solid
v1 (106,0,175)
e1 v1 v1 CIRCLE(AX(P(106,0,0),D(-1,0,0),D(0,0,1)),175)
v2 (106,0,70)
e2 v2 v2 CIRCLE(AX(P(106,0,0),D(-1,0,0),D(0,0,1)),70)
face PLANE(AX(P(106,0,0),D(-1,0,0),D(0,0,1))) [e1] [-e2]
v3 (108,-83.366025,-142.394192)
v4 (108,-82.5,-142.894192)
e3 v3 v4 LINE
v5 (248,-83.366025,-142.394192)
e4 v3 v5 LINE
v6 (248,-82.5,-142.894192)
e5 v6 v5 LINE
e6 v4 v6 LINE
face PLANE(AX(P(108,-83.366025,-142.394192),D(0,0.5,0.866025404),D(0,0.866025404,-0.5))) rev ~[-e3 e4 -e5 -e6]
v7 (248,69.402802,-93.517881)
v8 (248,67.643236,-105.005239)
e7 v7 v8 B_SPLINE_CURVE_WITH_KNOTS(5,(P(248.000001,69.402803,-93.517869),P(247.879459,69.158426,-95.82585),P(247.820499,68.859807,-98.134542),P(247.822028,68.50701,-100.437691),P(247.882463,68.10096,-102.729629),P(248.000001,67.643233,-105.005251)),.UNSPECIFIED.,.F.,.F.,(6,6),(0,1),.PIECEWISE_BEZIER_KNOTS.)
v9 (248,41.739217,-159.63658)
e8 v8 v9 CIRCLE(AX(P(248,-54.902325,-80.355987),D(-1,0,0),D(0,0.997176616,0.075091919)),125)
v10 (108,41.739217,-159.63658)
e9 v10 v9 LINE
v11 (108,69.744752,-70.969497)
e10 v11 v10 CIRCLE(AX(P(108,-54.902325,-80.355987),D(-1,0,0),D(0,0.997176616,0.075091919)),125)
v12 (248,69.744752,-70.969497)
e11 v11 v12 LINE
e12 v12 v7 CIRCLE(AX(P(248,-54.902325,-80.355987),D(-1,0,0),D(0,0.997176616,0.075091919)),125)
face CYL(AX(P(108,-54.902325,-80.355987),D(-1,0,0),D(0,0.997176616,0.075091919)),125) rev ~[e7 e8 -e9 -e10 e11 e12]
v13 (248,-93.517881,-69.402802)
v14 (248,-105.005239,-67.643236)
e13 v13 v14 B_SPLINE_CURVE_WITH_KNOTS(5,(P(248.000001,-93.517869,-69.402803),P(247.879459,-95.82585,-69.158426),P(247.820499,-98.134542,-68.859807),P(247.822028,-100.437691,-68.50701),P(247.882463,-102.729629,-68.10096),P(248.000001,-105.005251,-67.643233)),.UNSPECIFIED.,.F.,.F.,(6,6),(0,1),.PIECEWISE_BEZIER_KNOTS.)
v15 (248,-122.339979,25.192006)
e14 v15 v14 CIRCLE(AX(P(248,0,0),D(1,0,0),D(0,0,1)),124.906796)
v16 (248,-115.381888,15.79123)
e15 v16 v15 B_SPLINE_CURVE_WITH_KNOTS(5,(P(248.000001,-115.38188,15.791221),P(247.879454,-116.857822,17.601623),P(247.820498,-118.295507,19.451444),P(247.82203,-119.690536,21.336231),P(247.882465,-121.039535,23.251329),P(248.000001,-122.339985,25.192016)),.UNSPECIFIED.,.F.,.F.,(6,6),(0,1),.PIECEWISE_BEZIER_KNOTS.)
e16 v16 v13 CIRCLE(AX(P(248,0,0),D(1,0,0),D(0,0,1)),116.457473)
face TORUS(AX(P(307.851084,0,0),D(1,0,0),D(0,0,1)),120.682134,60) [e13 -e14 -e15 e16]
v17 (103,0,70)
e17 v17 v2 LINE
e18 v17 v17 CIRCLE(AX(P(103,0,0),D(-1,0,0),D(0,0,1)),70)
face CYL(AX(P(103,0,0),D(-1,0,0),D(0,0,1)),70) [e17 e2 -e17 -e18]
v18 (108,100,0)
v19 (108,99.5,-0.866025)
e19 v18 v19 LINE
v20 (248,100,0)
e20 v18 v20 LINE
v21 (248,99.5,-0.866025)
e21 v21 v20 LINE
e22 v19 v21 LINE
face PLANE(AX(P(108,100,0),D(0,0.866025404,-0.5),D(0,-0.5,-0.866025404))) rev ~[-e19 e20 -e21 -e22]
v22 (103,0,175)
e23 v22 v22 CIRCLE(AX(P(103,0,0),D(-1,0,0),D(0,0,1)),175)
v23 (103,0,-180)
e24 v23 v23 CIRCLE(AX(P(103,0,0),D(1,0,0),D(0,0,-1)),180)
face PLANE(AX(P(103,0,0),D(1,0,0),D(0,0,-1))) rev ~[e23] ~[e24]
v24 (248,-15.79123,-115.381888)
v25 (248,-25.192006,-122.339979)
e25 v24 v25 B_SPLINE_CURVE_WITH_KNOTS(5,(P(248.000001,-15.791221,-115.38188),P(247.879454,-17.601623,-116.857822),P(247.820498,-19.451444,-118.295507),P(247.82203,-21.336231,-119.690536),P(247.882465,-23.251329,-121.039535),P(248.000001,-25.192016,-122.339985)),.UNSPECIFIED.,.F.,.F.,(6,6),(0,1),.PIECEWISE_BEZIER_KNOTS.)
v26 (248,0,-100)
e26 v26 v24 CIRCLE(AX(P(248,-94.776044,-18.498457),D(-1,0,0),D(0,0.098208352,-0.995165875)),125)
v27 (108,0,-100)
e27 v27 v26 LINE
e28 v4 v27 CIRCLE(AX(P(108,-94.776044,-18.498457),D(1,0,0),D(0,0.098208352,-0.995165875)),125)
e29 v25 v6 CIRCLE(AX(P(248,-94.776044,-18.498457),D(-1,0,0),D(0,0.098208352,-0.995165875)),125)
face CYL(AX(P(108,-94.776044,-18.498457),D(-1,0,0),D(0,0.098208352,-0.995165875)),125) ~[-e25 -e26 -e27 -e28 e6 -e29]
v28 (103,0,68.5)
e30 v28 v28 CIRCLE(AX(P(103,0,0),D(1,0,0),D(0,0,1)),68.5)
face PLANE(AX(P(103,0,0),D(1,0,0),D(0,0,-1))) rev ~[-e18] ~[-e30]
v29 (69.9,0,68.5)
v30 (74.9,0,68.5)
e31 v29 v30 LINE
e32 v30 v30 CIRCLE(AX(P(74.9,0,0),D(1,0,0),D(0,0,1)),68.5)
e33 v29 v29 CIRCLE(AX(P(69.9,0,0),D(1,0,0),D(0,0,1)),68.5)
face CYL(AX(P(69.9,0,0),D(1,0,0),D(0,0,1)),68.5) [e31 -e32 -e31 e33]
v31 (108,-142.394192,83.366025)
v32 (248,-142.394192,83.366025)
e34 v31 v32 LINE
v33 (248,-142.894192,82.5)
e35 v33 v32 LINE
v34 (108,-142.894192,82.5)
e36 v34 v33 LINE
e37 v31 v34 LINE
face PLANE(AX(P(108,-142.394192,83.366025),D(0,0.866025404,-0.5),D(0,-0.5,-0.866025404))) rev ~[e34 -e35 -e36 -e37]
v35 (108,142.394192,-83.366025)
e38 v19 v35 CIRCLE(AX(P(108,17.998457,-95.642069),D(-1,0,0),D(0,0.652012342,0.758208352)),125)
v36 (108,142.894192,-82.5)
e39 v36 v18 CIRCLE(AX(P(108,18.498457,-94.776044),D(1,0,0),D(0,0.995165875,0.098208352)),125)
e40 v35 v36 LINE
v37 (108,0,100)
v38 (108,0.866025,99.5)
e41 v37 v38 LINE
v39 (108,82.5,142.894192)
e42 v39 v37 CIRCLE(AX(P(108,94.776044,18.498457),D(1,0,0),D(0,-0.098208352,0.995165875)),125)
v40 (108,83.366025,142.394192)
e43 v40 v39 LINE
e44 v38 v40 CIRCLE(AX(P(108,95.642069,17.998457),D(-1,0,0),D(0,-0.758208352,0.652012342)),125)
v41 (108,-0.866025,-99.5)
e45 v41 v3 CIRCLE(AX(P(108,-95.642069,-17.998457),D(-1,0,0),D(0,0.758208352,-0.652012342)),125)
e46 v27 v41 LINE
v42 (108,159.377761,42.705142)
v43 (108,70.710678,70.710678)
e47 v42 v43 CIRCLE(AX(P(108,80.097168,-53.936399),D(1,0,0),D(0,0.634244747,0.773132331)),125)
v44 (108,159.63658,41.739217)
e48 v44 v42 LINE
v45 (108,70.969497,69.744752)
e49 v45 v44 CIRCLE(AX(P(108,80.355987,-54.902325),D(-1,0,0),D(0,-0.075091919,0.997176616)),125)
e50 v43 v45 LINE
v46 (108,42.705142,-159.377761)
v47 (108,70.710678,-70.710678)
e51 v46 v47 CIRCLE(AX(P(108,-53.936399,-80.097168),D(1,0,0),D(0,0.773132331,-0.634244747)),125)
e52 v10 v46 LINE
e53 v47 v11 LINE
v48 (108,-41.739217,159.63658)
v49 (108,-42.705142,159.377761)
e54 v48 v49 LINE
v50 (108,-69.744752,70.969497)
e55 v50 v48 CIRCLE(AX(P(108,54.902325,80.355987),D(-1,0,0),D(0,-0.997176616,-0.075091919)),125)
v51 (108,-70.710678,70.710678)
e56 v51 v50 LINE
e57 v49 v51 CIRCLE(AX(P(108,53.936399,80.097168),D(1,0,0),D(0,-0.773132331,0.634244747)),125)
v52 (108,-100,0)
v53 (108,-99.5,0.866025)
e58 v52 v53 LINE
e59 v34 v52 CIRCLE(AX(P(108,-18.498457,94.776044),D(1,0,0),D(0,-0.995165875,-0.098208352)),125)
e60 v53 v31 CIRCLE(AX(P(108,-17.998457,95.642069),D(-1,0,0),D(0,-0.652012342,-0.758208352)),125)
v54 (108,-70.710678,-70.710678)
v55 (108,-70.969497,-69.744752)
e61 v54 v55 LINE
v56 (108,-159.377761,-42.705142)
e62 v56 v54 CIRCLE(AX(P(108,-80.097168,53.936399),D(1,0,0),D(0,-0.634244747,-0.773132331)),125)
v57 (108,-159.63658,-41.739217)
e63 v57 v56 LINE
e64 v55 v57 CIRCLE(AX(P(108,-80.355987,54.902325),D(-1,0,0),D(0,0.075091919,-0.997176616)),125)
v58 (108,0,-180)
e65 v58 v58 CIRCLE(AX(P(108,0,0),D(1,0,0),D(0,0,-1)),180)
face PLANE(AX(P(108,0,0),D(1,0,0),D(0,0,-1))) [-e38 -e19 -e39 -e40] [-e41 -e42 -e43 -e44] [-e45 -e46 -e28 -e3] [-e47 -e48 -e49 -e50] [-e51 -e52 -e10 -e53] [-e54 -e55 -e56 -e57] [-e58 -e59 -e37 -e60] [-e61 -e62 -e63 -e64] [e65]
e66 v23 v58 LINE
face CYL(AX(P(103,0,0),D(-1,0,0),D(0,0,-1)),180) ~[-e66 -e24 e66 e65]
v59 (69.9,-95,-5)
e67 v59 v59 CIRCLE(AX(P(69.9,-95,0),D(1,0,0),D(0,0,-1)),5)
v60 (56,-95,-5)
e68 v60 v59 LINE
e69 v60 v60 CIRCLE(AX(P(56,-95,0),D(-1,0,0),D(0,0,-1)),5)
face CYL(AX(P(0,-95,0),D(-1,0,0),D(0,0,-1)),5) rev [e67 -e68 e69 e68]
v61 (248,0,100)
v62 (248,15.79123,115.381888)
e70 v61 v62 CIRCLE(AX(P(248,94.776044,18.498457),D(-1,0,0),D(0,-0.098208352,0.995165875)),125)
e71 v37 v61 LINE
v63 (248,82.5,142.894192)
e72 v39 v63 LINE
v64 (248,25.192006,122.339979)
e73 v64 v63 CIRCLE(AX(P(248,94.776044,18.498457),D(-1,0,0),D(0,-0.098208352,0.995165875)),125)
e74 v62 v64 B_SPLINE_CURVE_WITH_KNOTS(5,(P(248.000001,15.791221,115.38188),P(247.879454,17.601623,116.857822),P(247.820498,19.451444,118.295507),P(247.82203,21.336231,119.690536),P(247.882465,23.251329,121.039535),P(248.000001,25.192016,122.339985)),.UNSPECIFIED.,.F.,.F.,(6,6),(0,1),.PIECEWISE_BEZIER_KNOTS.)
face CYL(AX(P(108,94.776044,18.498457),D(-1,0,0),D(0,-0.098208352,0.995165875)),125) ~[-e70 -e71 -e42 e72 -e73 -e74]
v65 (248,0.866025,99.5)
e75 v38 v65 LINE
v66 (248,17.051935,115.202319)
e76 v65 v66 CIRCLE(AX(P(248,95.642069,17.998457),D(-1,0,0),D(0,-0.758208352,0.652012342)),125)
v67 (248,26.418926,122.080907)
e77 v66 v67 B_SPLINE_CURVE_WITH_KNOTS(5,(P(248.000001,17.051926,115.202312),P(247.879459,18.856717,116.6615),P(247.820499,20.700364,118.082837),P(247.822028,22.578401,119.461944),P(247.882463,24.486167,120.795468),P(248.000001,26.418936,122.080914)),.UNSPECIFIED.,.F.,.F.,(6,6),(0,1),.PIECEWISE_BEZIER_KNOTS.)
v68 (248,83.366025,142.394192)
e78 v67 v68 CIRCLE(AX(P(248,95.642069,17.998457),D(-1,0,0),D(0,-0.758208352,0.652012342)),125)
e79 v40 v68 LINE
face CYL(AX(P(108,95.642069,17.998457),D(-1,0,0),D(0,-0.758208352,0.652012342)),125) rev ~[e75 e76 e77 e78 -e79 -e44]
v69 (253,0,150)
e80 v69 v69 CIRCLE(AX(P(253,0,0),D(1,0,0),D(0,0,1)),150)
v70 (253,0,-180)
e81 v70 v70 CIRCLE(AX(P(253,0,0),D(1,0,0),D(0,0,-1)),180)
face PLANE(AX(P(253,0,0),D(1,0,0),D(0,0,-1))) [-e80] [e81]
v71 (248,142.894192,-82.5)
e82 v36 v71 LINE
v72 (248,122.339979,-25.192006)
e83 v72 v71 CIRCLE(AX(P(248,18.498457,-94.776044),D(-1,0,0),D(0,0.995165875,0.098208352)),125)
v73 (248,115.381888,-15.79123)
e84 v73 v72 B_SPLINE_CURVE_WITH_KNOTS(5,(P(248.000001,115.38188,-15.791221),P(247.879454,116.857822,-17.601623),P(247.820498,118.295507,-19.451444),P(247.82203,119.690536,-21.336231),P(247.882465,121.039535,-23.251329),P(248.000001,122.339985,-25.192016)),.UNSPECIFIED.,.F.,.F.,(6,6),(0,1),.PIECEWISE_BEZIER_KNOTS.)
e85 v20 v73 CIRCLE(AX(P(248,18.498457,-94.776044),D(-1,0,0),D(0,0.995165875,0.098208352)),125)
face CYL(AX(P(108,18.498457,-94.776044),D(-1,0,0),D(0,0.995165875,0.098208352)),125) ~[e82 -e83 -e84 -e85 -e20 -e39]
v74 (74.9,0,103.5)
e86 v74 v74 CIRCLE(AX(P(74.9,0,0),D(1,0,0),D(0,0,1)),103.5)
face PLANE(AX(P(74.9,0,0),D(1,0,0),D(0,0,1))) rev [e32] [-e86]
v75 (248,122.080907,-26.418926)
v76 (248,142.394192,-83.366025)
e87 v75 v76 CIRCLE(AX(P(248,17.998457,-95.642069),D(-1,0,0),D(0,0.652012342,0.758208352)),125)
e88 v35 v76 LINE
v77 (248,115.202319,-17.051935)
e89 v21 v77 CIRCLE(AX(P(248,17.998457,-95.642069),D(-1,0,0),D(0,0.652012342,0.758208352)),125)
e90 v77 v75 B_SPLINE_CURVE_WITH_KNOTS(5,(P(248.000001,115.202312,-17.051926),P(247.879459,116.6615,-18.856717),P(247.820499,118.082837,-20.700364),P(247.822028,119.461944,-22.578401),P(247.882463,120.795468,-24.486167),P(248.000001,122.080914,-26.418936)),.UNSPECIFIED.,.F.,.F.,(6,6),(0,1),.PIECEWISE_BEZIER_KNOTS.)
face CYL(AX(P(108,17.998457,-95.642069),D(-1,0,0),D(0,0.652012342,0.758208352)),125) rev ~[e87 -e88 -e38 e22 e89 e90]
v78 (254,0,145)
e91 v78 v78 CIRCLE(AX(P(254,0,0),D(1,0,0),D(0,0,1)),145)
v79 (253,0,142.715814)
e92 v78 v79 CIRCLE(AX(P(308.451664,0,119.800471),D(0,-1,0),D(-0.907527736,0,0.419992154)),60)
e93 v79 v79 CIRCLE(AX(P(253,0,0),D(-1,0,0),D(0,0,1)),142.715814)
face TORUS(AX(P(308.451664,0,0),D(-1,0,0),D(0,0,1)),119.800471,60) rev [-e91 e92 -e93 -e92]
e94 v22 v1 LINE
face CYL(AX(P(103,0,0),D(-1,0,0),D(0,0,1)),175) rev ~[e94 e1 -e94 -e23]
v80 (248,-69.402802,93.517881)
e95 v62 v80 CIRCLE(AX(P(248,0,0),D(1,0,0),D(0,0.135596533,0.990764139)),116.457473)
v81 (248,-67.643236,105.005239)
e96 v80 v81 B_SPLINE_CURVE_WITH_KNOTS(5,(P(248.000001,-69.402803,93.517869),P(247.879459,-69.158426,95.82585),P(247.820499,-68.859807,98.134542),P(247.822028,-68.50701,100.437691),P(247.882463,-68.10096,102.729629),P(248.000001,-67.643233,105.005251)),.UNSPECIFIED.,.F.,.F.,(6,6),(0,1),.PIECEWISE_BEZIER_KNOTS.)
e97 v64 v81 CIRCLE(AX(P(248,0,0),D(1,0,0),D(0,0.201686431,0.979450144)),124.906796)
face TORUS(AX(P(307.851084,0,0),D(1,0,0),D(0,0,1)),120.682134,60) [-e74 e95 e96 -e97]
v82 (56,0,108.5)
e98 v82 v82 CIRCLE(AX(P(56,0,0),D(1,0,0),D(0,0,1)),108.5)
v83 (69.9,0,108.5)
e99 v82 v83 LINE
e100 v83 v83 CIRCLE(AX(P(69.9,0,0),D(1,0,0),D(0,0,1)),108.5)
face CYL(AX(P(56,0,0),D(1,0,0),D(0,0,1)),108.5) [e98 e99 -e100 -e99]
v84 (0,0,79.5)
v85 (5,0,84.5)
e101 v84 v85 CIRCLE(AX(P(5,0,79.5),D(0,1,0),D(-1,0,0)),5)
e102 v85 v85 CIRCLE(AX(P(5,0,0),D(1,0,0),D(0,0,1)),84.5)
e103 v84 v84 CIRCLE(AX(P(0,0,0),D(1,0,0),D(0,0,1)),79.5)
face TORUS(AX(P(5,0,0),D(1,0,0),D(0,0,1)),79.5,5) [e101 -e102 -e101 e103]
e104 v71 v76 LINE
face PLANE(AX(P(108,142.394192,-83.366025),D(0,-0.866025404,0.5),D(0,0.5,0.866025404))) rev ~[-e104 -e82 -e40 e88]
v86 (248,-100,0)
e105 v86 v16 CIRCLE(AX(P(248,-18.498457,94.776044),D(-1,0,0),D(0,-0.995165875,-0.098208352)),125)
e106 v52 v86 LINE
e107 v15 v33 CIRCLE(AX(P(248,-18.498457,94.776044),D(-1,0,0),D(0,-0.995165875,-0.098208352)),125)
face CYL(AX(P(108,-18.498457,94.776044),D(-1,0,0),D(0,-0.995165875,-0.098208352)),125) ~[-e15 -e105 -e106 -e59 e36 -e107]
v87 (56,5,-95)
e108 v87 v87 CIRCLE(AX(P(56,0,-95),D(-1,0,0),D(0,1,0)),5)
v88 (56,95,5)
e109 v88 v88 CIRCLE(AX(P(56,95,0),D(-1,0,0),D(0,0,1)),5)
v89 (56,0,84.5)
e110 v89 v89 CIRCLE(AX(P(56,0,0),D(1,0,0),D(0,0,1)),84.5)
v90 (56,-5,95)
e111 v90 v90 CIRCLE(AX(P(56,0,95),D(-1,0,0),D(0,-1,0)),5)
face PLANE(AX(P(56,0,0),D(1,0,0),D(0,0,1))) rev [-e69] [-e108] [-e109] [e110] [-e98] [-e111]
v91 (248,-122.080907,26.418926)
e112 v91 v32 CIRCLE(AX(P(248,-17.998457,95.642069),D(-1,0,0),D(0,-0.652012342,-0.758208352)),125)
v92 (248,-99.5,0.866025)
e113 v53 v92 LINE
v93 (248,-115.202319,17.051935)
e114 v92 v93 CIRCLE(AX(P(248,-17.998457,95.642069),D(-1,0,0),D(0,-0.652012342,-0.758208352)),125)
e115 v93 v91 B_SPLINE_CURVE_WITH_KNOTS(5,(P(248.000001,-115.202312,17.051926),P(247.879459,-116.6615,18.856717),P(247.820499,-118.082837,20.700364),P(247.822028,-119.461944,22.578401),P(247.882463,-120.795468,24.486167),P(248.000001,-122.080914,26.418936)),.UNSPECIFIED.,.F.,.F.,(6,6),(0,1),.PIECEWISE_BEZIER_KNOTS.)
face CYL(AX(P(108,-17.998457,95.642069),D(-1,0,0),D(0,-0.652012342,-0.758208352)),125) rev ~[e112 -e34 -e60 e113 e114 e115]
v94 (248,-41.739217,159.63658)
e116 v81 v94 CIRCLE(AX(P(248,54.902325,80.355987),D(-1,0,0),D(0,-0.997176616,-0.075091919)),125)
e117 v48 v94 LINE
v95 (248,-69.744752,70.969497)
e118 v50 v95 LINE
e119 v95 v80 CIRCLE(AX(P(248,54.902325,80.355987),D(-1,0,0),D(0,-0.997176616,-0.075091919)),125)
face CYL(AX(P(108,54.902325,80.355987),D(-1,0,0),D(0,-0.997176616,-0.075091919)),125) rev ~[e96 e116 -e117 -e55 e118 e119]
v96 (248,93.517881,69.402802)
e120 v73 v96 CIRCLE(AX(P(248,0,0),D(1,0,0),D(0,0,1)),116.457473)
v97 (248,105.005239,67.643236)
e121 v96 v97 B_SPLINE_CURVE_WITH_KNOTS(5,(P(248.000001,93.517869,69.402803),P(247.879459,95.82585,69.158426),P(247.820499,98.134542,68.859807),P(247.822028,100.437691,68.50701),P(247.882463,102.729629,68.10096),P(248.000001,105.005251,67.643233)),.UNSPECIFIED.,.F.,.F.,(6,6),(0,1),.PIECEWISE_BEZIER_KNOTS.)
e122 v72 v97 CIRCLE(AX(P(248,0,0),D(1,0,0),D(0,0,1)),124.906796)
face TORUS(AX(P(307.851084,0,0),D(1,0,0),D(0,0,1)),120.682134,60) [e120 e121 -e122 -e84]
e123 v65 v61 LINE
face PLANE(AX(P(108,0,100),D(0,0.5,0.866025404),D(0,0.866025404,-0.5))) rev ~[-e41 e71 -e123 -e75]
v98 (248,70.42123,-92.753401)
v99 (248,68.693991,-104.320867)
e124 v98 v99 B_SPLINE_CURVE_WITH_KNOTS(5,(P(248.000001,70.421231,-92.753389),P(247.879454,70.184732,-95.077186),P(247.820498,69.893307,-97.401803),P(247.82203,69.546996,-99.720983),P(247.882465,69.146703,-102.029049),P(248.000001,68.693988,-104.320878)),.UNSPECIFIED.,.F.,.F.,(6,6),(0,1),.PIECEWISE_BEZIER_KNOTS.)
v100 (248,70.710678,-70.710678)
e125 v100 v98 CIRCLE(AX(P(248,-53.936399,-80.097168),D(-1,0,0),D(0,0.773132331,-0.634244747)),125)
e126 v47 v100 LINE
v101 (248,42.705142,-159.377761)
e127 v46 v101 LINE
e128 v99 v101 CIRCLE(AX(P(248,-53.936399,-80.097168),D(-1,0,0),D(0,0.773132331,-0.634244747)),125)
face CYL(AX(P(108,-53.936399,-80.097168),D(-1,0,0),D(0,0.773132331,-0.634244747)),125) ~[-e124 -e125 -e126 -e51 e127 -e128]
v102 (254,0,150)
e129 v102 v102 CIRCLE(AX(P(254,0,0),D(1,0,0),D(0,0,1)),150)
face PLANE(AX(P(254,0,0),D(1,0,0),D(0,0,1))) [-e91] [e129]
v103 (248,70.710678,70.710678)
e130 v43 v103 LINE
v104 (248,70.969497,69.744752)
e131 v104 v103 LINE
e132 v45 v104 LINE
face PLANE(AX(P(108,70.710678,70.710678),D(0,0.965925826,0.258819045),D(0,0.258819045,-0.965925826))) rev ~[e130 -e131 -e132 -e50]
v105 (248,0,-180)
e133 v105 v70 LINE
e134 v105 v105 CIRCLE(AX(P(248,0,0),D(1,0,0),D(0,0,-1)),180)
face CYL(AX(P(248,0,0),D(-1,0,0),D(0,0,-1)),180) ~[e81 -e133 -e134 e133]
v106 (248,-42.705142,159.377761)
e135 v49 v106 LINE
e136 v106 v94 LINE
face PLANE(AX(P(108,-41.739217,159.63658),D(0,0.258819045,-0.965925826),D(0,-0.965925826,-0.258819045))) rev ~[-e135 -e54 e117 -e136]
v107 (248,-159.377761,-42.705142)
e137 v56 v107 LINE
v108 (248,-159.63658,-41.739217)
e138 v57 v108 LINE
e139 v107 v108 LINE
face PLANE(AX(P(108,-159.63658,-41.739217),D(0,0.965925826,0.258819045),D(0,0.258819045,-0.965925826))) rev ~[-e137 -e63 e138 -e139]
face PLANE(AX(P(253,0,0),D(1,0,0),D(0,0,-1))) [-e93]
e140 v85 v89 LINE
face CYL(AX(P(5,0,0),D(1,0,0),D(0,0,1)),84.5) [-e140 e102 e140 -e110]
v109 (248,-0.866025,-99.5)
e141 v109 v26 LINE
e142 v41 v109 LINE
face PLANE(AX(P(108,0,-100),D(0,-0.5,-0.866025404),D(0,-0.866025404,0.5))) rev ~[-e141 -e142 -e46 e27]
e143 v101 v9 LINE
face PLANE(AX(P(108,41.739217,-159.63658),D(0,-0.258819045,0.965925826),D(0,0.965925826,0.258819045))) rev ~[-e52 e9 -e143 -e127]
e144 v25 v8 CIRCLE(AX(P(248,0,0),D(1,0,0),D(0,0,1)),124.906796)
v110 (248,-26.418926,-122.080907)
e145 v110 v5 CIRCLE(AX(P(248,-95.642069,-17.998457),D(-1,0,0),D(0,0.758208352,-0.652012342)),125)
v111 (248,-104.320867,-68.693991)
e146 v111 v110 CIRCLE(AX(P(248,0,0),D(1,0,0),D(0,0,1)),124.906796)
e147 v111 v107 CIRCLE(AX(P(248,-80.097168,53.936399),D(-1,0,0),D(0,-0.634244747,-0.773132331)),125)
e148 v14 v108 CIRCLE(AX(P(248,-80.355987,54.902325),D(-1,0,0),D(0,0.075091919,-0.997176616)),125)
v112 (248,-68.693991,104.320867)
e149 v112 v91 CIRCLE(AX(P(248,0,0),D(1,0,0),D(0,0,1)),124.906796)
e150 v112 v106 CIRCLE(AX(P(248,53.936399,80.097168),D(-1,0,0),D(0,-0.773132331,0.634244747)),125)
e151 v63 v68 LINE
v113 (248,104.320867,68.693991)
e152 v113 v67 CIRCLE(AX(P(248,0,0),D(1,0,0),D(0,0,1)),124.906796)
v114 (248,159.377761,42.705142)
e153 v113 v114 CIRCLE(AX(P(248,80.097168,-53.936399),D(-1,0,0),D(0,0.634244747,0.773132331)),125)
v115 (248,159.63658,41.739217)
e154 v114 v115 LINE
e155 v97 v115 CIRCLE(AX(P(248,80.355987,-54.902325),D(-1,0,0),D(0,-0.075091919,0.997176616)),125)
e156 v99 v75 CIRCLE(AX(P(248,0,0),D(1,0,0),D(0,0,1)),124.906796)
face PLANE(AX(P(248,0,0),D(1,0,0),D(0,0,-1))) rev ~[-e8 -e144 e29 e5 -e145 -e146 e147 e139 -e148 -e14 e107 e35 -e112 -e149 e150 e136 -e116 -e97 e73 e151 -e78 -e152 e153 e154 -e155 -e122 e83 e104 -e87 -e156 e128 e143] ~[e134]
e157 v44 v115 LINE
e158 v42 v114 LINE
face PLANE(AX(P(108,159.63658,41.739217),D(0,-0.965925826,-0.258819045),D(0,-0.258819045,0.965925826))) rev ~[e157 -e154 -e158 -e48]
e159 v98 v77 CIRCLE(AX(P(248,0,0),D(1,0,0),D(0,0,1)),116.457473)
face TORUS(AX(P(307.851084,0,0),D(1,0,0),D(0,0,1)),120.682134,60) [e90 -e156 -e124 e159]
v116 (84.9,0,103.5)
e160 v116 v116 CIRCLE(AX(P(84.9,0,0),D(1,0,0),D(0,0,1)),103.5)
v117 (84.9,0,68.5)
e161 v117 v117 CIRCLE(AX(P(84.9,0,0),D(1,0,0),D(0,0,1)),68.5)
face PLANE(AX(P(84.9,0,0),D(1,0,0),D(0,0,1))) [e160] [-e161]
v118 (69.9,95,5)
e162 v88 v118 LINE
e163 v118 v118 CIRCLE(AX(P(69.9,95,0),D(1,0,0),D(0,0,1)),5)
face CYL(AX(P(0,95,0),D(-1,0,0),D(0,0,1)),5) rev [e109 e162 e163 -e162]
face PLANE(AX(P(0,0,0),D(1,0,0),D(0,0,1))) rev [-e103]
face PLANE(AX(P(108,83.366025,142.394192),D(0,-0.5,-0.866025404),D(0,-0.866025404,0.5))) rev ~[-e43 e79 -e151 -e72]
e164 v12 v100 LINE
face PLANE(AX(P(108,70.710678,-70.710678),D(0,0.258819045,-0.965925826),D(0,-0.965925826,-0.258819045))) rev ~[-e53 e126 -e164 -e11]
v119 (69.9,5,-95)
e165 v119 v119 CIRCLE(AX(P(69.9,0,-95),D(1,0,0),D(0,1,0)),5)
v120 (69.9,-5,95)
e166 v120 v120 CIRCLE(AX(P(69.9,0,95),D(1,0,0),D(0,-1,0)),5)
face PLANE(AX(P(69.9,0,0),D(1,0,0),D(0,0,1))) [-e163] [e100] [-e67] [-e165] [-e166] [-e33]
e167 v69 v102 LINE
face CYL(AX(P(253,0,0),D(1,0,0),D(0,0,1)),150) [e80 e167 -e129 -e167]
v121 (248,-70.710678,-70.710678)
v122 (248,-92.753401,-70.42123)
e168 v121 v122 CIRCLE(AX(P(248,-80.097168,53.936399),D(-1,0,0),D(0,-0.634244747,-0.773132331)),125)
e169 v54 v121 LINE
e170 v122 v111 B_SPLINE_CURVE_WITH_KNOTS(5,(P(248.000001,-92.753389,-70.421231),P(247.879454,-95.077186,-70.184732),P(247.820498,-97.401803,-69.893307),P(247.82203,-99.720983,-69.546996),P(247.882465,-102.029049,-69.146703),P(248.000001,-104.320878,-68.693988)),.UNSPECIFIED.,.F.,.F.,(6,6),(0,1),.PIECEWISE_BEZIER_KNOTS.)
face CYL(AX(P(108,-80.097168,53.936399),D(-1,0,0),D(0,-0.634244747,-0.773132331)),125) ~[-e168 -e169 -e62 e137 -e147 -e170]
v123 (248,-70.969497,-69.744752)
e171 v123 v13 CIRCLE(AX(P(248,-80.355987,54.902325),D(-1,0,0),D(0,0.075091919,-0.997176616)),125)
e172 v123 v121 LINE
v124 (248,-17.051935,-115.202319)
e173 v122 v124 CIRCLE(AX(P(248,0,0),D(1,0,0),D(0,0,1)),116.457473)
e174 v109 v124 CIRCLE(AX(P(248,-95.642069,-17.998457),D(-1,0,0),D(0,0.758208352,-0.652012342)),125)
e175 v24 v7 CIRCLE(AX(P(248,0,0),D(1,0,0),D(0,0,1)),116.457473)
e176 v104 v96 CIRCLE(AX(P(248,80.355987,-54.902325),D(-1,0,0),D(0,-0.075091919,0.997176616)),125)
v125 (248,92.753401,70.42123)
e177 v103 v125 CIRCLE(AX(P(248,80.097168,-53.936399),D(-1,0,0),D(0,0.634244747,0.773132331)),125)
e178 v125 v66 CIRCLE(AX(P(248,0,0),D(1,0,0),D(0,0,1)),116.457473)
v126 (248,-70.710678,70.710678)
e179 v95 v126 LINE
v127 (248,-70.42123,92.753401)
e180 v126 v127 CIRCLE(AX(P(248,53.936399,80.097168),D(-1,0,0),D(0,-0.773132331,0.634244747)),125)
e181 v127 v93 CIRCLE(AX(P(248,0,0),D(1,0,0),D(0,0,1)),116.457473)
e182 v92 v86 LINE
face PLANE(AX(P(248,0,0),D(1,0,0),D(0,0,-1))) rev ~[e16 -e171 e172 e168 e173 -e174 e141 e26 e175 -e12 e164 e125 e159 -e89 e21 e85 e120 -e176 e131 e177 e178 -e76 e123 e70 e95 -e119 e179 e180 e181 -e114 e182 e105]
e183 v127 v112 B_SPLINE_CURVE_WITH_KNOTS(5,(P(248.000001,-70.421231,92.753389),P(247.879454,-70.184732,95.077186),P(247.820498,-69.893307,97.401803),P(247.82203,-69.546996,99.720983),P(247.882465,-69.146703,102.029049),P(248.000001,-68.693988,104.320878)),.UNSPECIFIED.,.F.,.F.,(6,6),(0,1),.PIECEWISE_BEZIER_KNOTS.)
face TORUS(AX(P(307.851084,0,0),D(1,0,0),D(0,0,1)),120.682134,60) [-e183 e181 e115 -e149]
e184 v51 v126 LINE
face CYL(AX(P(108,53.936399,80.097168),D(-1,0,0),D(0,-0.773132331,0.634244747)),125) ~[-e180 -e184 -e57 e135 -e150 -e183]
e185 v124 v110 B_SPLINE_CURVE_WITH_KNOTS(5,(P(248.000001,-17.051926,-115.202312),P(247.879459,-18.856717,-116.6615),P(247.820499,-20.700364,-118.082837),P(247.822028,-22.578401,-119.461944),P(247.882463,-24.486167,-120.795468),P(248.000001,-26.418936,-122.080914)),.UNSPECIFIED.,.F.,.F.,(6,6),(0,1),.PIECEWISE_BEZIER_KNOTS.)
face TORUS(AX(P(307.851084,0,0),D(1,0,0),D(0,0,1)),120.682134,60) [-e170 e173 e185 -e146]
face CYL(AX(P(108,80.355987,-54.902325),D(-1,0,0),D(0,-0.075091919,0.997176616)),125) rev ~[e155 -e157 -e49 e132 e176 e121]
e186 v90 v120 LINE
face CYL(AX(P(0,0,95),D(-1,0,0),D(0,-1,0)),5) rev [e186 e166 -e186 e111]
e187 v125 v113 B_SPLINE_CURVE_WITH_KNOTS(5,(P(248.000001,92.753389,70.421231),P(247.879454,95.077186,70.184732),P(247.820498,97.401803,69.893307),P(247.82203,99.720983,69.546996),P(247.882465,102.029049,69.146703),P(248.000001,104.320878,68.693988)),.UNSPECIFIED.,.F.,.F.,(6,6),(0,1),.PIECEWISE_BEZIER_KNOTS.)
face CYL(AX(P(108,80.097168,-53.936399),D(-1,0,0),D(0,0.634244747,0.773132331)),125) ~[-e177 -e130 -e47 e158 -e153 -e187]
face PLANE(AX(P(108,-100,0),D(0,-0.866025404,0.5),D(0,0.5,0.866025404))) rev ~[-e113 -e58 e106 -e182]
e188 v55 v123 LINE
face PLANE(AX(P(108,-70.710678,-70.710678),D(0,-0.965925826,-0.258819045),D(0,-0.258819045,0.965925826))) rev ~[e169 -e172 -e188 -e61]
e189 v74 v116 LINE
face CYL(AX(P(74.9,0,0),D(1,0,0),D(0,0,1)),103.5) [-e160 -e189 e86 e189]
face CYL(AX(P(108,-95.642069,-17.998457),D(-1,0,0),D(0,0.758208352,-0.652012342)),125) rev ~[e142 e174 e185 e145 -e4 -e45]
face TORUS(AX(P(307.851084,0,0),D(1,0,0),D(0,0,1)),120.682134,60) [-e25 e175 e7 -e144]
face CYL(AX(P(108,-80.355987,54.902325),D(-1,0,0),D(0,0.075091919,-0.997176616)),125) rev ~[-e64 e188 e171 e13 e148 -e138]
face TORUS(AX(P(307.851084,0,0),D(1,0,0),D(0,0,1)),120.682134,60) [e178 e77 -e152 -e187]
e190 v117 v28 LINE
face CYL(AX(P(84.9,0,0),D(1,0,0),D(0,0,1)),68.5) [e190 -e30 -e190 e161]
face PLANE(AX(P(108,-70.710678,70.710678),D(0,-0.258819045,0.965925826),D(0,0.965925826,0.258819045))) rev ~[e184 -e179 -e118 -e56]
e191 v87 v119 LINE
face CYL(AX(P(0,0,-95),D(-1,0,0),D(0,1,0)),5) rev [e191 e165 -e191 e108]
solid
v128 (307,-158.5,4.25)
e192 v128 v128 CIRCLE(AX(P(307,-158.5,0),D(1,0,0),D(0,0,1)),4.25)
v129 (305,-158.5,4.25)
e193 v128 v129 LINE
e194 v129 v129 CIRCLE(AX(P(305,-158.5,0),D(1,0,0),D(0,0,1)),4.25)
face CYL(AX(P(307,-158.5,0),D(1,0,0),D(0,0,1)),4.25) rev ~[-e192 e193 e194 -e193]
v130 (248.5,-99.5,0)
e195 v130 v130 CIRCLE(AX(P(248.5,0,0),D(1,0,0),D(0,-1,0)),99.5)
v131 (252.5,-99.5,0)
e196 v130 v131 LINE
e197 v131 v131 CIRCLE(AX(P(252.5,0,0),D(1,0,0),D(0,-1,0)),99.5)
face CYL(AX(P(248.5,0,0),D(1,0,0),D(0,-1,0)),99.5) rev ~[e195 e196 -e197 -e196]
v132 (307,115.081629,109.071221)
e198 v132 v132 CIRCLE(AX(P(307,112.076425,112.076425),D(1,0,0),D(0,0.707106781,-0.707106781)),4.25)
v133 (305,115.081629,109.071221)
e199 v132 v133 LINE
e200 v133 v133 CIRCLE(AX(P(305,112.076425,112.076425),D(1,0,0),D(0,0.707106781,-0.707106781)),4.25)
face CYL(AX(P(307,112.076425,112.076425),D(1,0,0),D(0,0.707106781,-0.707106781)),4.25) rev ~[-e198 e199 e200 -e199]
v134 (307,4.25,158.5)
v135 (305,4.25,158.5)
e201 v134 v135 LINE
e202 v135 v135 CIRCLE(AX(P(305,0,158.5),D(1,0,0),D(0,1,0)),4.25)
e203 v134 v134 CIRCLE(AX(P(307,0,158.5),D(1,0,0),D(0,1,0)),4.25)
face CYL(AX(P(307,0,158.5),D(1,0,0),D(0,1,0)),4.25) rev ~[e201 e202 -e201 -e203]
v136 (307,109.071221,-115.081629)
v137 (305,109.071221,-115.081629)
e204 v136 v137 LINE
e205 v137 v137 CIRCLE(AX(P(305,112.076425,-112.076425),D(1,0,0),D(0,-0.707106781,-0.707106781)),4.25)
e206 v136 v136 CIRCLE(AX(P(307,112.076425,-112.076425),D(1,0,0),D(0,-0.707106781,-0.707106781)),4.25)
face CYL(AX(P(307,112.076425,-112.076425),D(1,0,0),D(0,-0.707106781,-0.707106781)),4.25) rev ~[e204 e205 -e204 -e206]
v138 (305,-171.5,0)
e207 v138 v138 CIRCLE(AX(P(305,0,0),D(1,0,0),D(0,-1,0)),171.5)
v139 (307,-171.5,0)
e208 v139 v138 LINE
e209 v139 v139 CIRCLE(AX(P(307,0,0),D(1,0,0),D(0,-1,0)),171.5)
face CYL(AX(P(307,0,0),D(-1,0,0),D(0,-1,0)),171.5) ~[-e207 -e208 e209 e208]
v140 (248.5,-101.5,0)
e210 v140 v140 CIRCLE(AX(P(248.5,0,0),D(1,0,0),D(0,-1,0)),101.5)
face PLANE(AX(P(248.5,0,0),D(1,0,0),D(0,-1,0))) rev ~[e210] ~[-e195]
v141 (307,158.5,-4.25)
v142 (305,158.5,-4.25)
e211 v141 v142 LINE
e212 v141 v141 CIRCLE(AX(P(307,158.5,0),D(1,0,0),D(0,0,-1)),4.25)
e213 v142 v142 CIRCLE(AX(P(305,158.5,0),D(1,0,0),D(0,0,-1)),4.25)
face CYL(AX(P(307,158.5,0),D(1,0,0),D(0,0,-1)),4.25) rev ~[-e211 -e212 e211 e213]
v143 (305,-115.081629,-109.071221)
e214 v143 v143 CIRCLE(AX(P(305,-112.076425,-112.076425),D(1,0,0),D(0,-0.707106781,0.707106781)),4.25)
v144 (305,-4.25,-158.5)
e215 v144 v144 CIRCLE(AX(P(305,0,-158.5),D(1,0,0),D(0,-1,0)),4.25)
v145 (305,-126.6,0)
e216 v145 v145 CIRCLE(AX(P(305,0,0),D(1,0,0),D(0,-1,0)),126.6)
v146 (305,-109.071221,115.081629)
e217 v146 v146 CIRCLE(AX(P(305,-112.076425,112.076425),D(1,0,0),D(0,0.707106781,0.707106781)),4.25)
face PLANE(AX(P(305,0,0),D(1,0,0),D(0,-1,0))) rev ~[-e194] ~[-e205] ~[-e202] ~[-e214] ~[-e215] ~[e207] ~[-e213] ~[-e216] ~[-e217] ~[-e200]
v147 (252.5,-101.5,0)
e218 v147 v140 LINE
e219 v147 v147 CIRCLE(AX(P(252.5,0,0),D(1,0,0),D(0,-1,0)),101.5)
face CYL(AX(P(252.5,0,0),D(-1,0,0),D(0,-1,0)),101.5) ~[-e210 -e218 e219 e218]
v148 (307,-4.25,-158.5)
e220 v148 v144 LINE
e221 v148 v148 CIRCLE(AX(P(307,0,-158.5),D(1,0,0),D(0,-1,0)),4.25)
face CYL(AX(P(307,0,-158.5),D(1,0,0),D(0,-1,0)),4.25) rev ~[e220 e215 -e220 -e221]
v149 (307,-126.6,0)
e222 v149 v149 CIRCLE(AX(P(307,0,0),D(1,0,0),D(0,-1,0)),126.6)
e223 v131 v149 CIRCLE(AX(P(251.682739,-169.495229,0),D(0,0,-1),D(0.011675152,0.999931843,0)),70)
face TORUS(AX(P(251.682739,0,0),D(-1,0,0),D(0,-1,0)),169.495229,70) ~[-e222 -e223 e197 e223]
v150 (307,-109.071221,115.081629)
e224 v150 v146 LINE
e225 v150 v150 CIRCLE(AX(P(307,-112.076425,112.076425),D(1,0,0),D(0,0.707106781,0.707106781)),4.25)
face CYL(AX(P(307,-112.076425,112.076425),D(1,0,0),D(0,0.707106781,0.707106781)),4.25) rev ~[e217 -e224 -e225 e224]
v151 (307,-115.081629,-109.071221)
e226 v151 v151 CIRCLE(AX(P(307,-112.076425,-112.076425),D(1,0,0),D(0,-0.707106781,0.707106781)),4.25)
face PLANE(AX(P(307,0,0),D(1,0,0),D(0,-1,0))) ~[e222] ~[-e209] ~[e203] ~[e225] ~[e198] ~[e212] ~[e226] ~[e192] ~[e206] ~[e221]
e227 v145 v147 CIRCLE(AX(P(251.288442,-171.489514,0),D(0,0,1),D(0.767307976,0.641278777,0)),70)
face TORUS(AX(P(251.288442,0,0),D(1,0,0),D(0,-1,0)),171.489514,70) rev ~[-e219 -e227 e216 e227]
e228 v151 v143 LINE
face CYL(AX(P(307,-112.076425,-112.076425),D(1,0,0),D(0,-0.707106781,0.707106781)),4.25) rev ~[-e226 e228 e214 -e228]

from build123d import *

# Parameters (mm, degrees)
SKETCH2_R         = 180
EXTRUDE1_DEPTH    = 5
SKETCH9_R         = 175
SKETCH9_R_2       = 70
EXTRUDE7_DEPTH    = 3
SKETCH3_R         = 180
EXTRUDE2_DEPTH    = 5
EXTRUDE3_DEPTH    = 145
CIRPATTERN1_COUNT = 8
SKETCH7_R         = 4.25
EXTRUDE5_DEPTH    = 5
CIRPATTERN2_COUNT = 8
SKETCH8_R         = 5
EXTRUDE6_DEPTH    = 69.9
CIRPATTERN3_COUNT = 4


with BuildPart() as part:
    # Sketch1 → Revolve1 (revolve)
    with BuildSketch(Plane.XY, mode=Mode.PRIVATE) as revolve1_sk:
        with BuildLine():
            Line((0, 0), (0, 79.5))
            ThreePointArc((0, 79.5), (1.464466094, 83.035533906), (5, 84.5))
            Line((5, 84.5), (56, 84.5))
            Line((56, 84.5), (56, 108.5))
            Line((56, 108.5), (69.9, 108.5))
            Line((69.9, 108.5), (69.9, 68.5))
            Line((69.9, 68.5), (74.9, 68.5))
            Line((74.9, 68.5), (74.9, 103.5))
            Line((74.9, 103.5), (84.9, 103.5))
            Line((84.9, 103.5), (84.9, 68.5))
            Line((84.9, 68.5), (103, 68.5))
            Line((103, 68.5), (103, 0))
            Line((103, 0), (0, 0))
        make_face()
    revolve(revolve1_sk.sketch.rotate(Axis((0, 0, 0), (1, 0, 0)), 90), axis=Axis((0, 0, 0), (1, 0, 0)))

    # Sketch2 → Extrude1 (add)
    with BuildSketch(Plane(origin=(103, 0, 0), x_dir=(0, 0, -1), z_dir=(1, 0, 0))):
        Circle(SKETCH2_R)
    extrude(amount=EXTRUDE1_DEPTH)

    # Sketch9 → Extrude7 (cut)
    with BuildSketch(Plane.ZY.offset(-103)):
        Circle(SKETCH9_R)
        Circle(SKETCH9_R_2, mode=Mode.SUBTRACT)
    extrude(amount=-EXTRUDE7_DEPTH, mode=Mode.SUBTRACT)



with BuildPart() as body_2:
    # Sketch3 → Extrude2 (new body)
    with BuildSketch(Plane(origin=(248, 0, 0), x_dir=(0, 0, -1), z_dir=(1, 0, 0))):
        Circle(SKETCH3_R)
    extrude(amount=EXTRUDE2_DEPTH)


with BuildPart() as part_1:
    add(part.part)

    add(body_2.part)  # Extrude3 merges body 2
    # Sketch4 → Extrude3 (add)
    with BuildSketch(Plane(origin=(108, 0, 0), x_dir=(0, 0, -1), z_dir=(1, 0, 0))):
        with BuildLine():
            Line((0, 100), (0.866025404, 99.5))
            ThreePointArc((0.866025404, 99.5), (37.979123721, 128.903753251), (83.366025404, 142.394191624))
            Line((83.366025404, 142.394191624), (82.5, 142.894191624))
            ThreePointArc((82.5, 142.894191624), (37.113098317, 129.403753251), (0, 100))
        make_face()
    extrude3 = extrude(amount=EXTRUDE3_DEPTH)

    # CirPattern1: Extrude3 ×8 about axis
    cirpattern1_axis = Axis((0, 0, 0), (1, 0, 0))
    for i in range(1, CIRPATTERN1_COUNT):
        add(extrude3.rotate(cirpattern1_axis, i * 360 / CIRPATTERN1_COUNT))

    # Sketch5 → Revolve2 (revolve)
    with BuildSketch(Plane.XY, mode=Mode.PRIVATE) as revolve2_sk:
        with BuildLine():
            Line((253, 150), (254, 150))
            Line((254, 150), (254, 145))
            ThreePointArc((254, 145), (248.600588794, 124.025252556), (251, 102.5))
            Line((251, 102.5), (251, 101.5))
            ThreePointArc((251, 101.5), (247.914400029, 123.437843677), (253, 145))
            Line((253, 145), (253, 150))
        make_face()
    revolve(revolve2_sk.sketch.rotate(Axis((0, 0, 0), (1, 0, 0)), 90), axis=Axis((0, 0, 0), (1, 0, 0)))

    # Sketch8 → Extrude6 (cut)
    with BuildSketch(Plane(origin=(0, 0, 0), x_dir=(0, 0, -1), z_dir=(1, 0, 0))):
        with Locations(Location((0, 95, 0), (0, 0, 180))):
            Circle(SKETCH8_R)
    extrude6 = extrude(amount=EXTRUDE6_DEPTH, mode=Mode.SUBTRACT)

    # CirPattern3: Extrude6 ×4 about axis
    cirpattern3_axis = Axis((0, 0, 0), (1, 0, 0))
    for i in range(1, CIRPATTERN3_COUNT):
        add(extrude6.rotate(cirpattern3_axis, i * 360 / CIRPATTERN3_COUNT), mode=Mode.SUBTRACT)


with BuildPart() as body_2_2:
    # Sketch6 → Revolve3 (revolve)
    with BuildSketch(Plane.XY, mode=Mode.PRIVATE) as revolve3_sk:
        with BuildLine():
            Line((307, 171.5), (305, 171.5))
            Line((305, 171.5), (305, 126.6))
            ThreePointArc((305, 126.6), (281.481813227, 108.336048031), (252.5, 101.5))
            Line((252.5, 101.5), (248.5, 101.5))
            Line((248.5, 101.5), (248.5, 99.5))
            Line((248.5, 99.5), (252.5, 99.5))
            ThreePointArc((252.5, 99.5), (282.849606698, 106.816473615), (307, 126.6))
            Line((307, 126.6), (307, 171.5))
        make_face()
    revolve(revolve3_sk.sketch.rotate(Axis((0, 0, 0), (1, 0, 0)), 180), axis=Axis((0, 0, 0), (1, 0, 0)))

    # Sketch7 → Extrude5 (cut)
    with BuildSketch(Plane(origin=(307, 0, 0), x_dir=(0, 0, -1), z_dir=(1, 0, 0))):
        with Locations((0, 158.5)):
            Circle(SKETCH7_R)
    extrude5 = extrude(amount=-EXTRUDE5_DEPTH, mode=Mode.SUBTRACT)

    # CirPattern2: Extrude5 ×8 about axis
    cirpattern2_axis = Axis((0, 0, 0), (1, 0, 0))
    for i in range(1, CIRPATTERN2_COUNT):
        add(extrude5.rotate(cirpattern2_axis, i * 360 / CIRPATTERN2_COUNT), mode=Mode.SUBTRACT)


solid = Compound([part_1.part, body_2_2.part])
